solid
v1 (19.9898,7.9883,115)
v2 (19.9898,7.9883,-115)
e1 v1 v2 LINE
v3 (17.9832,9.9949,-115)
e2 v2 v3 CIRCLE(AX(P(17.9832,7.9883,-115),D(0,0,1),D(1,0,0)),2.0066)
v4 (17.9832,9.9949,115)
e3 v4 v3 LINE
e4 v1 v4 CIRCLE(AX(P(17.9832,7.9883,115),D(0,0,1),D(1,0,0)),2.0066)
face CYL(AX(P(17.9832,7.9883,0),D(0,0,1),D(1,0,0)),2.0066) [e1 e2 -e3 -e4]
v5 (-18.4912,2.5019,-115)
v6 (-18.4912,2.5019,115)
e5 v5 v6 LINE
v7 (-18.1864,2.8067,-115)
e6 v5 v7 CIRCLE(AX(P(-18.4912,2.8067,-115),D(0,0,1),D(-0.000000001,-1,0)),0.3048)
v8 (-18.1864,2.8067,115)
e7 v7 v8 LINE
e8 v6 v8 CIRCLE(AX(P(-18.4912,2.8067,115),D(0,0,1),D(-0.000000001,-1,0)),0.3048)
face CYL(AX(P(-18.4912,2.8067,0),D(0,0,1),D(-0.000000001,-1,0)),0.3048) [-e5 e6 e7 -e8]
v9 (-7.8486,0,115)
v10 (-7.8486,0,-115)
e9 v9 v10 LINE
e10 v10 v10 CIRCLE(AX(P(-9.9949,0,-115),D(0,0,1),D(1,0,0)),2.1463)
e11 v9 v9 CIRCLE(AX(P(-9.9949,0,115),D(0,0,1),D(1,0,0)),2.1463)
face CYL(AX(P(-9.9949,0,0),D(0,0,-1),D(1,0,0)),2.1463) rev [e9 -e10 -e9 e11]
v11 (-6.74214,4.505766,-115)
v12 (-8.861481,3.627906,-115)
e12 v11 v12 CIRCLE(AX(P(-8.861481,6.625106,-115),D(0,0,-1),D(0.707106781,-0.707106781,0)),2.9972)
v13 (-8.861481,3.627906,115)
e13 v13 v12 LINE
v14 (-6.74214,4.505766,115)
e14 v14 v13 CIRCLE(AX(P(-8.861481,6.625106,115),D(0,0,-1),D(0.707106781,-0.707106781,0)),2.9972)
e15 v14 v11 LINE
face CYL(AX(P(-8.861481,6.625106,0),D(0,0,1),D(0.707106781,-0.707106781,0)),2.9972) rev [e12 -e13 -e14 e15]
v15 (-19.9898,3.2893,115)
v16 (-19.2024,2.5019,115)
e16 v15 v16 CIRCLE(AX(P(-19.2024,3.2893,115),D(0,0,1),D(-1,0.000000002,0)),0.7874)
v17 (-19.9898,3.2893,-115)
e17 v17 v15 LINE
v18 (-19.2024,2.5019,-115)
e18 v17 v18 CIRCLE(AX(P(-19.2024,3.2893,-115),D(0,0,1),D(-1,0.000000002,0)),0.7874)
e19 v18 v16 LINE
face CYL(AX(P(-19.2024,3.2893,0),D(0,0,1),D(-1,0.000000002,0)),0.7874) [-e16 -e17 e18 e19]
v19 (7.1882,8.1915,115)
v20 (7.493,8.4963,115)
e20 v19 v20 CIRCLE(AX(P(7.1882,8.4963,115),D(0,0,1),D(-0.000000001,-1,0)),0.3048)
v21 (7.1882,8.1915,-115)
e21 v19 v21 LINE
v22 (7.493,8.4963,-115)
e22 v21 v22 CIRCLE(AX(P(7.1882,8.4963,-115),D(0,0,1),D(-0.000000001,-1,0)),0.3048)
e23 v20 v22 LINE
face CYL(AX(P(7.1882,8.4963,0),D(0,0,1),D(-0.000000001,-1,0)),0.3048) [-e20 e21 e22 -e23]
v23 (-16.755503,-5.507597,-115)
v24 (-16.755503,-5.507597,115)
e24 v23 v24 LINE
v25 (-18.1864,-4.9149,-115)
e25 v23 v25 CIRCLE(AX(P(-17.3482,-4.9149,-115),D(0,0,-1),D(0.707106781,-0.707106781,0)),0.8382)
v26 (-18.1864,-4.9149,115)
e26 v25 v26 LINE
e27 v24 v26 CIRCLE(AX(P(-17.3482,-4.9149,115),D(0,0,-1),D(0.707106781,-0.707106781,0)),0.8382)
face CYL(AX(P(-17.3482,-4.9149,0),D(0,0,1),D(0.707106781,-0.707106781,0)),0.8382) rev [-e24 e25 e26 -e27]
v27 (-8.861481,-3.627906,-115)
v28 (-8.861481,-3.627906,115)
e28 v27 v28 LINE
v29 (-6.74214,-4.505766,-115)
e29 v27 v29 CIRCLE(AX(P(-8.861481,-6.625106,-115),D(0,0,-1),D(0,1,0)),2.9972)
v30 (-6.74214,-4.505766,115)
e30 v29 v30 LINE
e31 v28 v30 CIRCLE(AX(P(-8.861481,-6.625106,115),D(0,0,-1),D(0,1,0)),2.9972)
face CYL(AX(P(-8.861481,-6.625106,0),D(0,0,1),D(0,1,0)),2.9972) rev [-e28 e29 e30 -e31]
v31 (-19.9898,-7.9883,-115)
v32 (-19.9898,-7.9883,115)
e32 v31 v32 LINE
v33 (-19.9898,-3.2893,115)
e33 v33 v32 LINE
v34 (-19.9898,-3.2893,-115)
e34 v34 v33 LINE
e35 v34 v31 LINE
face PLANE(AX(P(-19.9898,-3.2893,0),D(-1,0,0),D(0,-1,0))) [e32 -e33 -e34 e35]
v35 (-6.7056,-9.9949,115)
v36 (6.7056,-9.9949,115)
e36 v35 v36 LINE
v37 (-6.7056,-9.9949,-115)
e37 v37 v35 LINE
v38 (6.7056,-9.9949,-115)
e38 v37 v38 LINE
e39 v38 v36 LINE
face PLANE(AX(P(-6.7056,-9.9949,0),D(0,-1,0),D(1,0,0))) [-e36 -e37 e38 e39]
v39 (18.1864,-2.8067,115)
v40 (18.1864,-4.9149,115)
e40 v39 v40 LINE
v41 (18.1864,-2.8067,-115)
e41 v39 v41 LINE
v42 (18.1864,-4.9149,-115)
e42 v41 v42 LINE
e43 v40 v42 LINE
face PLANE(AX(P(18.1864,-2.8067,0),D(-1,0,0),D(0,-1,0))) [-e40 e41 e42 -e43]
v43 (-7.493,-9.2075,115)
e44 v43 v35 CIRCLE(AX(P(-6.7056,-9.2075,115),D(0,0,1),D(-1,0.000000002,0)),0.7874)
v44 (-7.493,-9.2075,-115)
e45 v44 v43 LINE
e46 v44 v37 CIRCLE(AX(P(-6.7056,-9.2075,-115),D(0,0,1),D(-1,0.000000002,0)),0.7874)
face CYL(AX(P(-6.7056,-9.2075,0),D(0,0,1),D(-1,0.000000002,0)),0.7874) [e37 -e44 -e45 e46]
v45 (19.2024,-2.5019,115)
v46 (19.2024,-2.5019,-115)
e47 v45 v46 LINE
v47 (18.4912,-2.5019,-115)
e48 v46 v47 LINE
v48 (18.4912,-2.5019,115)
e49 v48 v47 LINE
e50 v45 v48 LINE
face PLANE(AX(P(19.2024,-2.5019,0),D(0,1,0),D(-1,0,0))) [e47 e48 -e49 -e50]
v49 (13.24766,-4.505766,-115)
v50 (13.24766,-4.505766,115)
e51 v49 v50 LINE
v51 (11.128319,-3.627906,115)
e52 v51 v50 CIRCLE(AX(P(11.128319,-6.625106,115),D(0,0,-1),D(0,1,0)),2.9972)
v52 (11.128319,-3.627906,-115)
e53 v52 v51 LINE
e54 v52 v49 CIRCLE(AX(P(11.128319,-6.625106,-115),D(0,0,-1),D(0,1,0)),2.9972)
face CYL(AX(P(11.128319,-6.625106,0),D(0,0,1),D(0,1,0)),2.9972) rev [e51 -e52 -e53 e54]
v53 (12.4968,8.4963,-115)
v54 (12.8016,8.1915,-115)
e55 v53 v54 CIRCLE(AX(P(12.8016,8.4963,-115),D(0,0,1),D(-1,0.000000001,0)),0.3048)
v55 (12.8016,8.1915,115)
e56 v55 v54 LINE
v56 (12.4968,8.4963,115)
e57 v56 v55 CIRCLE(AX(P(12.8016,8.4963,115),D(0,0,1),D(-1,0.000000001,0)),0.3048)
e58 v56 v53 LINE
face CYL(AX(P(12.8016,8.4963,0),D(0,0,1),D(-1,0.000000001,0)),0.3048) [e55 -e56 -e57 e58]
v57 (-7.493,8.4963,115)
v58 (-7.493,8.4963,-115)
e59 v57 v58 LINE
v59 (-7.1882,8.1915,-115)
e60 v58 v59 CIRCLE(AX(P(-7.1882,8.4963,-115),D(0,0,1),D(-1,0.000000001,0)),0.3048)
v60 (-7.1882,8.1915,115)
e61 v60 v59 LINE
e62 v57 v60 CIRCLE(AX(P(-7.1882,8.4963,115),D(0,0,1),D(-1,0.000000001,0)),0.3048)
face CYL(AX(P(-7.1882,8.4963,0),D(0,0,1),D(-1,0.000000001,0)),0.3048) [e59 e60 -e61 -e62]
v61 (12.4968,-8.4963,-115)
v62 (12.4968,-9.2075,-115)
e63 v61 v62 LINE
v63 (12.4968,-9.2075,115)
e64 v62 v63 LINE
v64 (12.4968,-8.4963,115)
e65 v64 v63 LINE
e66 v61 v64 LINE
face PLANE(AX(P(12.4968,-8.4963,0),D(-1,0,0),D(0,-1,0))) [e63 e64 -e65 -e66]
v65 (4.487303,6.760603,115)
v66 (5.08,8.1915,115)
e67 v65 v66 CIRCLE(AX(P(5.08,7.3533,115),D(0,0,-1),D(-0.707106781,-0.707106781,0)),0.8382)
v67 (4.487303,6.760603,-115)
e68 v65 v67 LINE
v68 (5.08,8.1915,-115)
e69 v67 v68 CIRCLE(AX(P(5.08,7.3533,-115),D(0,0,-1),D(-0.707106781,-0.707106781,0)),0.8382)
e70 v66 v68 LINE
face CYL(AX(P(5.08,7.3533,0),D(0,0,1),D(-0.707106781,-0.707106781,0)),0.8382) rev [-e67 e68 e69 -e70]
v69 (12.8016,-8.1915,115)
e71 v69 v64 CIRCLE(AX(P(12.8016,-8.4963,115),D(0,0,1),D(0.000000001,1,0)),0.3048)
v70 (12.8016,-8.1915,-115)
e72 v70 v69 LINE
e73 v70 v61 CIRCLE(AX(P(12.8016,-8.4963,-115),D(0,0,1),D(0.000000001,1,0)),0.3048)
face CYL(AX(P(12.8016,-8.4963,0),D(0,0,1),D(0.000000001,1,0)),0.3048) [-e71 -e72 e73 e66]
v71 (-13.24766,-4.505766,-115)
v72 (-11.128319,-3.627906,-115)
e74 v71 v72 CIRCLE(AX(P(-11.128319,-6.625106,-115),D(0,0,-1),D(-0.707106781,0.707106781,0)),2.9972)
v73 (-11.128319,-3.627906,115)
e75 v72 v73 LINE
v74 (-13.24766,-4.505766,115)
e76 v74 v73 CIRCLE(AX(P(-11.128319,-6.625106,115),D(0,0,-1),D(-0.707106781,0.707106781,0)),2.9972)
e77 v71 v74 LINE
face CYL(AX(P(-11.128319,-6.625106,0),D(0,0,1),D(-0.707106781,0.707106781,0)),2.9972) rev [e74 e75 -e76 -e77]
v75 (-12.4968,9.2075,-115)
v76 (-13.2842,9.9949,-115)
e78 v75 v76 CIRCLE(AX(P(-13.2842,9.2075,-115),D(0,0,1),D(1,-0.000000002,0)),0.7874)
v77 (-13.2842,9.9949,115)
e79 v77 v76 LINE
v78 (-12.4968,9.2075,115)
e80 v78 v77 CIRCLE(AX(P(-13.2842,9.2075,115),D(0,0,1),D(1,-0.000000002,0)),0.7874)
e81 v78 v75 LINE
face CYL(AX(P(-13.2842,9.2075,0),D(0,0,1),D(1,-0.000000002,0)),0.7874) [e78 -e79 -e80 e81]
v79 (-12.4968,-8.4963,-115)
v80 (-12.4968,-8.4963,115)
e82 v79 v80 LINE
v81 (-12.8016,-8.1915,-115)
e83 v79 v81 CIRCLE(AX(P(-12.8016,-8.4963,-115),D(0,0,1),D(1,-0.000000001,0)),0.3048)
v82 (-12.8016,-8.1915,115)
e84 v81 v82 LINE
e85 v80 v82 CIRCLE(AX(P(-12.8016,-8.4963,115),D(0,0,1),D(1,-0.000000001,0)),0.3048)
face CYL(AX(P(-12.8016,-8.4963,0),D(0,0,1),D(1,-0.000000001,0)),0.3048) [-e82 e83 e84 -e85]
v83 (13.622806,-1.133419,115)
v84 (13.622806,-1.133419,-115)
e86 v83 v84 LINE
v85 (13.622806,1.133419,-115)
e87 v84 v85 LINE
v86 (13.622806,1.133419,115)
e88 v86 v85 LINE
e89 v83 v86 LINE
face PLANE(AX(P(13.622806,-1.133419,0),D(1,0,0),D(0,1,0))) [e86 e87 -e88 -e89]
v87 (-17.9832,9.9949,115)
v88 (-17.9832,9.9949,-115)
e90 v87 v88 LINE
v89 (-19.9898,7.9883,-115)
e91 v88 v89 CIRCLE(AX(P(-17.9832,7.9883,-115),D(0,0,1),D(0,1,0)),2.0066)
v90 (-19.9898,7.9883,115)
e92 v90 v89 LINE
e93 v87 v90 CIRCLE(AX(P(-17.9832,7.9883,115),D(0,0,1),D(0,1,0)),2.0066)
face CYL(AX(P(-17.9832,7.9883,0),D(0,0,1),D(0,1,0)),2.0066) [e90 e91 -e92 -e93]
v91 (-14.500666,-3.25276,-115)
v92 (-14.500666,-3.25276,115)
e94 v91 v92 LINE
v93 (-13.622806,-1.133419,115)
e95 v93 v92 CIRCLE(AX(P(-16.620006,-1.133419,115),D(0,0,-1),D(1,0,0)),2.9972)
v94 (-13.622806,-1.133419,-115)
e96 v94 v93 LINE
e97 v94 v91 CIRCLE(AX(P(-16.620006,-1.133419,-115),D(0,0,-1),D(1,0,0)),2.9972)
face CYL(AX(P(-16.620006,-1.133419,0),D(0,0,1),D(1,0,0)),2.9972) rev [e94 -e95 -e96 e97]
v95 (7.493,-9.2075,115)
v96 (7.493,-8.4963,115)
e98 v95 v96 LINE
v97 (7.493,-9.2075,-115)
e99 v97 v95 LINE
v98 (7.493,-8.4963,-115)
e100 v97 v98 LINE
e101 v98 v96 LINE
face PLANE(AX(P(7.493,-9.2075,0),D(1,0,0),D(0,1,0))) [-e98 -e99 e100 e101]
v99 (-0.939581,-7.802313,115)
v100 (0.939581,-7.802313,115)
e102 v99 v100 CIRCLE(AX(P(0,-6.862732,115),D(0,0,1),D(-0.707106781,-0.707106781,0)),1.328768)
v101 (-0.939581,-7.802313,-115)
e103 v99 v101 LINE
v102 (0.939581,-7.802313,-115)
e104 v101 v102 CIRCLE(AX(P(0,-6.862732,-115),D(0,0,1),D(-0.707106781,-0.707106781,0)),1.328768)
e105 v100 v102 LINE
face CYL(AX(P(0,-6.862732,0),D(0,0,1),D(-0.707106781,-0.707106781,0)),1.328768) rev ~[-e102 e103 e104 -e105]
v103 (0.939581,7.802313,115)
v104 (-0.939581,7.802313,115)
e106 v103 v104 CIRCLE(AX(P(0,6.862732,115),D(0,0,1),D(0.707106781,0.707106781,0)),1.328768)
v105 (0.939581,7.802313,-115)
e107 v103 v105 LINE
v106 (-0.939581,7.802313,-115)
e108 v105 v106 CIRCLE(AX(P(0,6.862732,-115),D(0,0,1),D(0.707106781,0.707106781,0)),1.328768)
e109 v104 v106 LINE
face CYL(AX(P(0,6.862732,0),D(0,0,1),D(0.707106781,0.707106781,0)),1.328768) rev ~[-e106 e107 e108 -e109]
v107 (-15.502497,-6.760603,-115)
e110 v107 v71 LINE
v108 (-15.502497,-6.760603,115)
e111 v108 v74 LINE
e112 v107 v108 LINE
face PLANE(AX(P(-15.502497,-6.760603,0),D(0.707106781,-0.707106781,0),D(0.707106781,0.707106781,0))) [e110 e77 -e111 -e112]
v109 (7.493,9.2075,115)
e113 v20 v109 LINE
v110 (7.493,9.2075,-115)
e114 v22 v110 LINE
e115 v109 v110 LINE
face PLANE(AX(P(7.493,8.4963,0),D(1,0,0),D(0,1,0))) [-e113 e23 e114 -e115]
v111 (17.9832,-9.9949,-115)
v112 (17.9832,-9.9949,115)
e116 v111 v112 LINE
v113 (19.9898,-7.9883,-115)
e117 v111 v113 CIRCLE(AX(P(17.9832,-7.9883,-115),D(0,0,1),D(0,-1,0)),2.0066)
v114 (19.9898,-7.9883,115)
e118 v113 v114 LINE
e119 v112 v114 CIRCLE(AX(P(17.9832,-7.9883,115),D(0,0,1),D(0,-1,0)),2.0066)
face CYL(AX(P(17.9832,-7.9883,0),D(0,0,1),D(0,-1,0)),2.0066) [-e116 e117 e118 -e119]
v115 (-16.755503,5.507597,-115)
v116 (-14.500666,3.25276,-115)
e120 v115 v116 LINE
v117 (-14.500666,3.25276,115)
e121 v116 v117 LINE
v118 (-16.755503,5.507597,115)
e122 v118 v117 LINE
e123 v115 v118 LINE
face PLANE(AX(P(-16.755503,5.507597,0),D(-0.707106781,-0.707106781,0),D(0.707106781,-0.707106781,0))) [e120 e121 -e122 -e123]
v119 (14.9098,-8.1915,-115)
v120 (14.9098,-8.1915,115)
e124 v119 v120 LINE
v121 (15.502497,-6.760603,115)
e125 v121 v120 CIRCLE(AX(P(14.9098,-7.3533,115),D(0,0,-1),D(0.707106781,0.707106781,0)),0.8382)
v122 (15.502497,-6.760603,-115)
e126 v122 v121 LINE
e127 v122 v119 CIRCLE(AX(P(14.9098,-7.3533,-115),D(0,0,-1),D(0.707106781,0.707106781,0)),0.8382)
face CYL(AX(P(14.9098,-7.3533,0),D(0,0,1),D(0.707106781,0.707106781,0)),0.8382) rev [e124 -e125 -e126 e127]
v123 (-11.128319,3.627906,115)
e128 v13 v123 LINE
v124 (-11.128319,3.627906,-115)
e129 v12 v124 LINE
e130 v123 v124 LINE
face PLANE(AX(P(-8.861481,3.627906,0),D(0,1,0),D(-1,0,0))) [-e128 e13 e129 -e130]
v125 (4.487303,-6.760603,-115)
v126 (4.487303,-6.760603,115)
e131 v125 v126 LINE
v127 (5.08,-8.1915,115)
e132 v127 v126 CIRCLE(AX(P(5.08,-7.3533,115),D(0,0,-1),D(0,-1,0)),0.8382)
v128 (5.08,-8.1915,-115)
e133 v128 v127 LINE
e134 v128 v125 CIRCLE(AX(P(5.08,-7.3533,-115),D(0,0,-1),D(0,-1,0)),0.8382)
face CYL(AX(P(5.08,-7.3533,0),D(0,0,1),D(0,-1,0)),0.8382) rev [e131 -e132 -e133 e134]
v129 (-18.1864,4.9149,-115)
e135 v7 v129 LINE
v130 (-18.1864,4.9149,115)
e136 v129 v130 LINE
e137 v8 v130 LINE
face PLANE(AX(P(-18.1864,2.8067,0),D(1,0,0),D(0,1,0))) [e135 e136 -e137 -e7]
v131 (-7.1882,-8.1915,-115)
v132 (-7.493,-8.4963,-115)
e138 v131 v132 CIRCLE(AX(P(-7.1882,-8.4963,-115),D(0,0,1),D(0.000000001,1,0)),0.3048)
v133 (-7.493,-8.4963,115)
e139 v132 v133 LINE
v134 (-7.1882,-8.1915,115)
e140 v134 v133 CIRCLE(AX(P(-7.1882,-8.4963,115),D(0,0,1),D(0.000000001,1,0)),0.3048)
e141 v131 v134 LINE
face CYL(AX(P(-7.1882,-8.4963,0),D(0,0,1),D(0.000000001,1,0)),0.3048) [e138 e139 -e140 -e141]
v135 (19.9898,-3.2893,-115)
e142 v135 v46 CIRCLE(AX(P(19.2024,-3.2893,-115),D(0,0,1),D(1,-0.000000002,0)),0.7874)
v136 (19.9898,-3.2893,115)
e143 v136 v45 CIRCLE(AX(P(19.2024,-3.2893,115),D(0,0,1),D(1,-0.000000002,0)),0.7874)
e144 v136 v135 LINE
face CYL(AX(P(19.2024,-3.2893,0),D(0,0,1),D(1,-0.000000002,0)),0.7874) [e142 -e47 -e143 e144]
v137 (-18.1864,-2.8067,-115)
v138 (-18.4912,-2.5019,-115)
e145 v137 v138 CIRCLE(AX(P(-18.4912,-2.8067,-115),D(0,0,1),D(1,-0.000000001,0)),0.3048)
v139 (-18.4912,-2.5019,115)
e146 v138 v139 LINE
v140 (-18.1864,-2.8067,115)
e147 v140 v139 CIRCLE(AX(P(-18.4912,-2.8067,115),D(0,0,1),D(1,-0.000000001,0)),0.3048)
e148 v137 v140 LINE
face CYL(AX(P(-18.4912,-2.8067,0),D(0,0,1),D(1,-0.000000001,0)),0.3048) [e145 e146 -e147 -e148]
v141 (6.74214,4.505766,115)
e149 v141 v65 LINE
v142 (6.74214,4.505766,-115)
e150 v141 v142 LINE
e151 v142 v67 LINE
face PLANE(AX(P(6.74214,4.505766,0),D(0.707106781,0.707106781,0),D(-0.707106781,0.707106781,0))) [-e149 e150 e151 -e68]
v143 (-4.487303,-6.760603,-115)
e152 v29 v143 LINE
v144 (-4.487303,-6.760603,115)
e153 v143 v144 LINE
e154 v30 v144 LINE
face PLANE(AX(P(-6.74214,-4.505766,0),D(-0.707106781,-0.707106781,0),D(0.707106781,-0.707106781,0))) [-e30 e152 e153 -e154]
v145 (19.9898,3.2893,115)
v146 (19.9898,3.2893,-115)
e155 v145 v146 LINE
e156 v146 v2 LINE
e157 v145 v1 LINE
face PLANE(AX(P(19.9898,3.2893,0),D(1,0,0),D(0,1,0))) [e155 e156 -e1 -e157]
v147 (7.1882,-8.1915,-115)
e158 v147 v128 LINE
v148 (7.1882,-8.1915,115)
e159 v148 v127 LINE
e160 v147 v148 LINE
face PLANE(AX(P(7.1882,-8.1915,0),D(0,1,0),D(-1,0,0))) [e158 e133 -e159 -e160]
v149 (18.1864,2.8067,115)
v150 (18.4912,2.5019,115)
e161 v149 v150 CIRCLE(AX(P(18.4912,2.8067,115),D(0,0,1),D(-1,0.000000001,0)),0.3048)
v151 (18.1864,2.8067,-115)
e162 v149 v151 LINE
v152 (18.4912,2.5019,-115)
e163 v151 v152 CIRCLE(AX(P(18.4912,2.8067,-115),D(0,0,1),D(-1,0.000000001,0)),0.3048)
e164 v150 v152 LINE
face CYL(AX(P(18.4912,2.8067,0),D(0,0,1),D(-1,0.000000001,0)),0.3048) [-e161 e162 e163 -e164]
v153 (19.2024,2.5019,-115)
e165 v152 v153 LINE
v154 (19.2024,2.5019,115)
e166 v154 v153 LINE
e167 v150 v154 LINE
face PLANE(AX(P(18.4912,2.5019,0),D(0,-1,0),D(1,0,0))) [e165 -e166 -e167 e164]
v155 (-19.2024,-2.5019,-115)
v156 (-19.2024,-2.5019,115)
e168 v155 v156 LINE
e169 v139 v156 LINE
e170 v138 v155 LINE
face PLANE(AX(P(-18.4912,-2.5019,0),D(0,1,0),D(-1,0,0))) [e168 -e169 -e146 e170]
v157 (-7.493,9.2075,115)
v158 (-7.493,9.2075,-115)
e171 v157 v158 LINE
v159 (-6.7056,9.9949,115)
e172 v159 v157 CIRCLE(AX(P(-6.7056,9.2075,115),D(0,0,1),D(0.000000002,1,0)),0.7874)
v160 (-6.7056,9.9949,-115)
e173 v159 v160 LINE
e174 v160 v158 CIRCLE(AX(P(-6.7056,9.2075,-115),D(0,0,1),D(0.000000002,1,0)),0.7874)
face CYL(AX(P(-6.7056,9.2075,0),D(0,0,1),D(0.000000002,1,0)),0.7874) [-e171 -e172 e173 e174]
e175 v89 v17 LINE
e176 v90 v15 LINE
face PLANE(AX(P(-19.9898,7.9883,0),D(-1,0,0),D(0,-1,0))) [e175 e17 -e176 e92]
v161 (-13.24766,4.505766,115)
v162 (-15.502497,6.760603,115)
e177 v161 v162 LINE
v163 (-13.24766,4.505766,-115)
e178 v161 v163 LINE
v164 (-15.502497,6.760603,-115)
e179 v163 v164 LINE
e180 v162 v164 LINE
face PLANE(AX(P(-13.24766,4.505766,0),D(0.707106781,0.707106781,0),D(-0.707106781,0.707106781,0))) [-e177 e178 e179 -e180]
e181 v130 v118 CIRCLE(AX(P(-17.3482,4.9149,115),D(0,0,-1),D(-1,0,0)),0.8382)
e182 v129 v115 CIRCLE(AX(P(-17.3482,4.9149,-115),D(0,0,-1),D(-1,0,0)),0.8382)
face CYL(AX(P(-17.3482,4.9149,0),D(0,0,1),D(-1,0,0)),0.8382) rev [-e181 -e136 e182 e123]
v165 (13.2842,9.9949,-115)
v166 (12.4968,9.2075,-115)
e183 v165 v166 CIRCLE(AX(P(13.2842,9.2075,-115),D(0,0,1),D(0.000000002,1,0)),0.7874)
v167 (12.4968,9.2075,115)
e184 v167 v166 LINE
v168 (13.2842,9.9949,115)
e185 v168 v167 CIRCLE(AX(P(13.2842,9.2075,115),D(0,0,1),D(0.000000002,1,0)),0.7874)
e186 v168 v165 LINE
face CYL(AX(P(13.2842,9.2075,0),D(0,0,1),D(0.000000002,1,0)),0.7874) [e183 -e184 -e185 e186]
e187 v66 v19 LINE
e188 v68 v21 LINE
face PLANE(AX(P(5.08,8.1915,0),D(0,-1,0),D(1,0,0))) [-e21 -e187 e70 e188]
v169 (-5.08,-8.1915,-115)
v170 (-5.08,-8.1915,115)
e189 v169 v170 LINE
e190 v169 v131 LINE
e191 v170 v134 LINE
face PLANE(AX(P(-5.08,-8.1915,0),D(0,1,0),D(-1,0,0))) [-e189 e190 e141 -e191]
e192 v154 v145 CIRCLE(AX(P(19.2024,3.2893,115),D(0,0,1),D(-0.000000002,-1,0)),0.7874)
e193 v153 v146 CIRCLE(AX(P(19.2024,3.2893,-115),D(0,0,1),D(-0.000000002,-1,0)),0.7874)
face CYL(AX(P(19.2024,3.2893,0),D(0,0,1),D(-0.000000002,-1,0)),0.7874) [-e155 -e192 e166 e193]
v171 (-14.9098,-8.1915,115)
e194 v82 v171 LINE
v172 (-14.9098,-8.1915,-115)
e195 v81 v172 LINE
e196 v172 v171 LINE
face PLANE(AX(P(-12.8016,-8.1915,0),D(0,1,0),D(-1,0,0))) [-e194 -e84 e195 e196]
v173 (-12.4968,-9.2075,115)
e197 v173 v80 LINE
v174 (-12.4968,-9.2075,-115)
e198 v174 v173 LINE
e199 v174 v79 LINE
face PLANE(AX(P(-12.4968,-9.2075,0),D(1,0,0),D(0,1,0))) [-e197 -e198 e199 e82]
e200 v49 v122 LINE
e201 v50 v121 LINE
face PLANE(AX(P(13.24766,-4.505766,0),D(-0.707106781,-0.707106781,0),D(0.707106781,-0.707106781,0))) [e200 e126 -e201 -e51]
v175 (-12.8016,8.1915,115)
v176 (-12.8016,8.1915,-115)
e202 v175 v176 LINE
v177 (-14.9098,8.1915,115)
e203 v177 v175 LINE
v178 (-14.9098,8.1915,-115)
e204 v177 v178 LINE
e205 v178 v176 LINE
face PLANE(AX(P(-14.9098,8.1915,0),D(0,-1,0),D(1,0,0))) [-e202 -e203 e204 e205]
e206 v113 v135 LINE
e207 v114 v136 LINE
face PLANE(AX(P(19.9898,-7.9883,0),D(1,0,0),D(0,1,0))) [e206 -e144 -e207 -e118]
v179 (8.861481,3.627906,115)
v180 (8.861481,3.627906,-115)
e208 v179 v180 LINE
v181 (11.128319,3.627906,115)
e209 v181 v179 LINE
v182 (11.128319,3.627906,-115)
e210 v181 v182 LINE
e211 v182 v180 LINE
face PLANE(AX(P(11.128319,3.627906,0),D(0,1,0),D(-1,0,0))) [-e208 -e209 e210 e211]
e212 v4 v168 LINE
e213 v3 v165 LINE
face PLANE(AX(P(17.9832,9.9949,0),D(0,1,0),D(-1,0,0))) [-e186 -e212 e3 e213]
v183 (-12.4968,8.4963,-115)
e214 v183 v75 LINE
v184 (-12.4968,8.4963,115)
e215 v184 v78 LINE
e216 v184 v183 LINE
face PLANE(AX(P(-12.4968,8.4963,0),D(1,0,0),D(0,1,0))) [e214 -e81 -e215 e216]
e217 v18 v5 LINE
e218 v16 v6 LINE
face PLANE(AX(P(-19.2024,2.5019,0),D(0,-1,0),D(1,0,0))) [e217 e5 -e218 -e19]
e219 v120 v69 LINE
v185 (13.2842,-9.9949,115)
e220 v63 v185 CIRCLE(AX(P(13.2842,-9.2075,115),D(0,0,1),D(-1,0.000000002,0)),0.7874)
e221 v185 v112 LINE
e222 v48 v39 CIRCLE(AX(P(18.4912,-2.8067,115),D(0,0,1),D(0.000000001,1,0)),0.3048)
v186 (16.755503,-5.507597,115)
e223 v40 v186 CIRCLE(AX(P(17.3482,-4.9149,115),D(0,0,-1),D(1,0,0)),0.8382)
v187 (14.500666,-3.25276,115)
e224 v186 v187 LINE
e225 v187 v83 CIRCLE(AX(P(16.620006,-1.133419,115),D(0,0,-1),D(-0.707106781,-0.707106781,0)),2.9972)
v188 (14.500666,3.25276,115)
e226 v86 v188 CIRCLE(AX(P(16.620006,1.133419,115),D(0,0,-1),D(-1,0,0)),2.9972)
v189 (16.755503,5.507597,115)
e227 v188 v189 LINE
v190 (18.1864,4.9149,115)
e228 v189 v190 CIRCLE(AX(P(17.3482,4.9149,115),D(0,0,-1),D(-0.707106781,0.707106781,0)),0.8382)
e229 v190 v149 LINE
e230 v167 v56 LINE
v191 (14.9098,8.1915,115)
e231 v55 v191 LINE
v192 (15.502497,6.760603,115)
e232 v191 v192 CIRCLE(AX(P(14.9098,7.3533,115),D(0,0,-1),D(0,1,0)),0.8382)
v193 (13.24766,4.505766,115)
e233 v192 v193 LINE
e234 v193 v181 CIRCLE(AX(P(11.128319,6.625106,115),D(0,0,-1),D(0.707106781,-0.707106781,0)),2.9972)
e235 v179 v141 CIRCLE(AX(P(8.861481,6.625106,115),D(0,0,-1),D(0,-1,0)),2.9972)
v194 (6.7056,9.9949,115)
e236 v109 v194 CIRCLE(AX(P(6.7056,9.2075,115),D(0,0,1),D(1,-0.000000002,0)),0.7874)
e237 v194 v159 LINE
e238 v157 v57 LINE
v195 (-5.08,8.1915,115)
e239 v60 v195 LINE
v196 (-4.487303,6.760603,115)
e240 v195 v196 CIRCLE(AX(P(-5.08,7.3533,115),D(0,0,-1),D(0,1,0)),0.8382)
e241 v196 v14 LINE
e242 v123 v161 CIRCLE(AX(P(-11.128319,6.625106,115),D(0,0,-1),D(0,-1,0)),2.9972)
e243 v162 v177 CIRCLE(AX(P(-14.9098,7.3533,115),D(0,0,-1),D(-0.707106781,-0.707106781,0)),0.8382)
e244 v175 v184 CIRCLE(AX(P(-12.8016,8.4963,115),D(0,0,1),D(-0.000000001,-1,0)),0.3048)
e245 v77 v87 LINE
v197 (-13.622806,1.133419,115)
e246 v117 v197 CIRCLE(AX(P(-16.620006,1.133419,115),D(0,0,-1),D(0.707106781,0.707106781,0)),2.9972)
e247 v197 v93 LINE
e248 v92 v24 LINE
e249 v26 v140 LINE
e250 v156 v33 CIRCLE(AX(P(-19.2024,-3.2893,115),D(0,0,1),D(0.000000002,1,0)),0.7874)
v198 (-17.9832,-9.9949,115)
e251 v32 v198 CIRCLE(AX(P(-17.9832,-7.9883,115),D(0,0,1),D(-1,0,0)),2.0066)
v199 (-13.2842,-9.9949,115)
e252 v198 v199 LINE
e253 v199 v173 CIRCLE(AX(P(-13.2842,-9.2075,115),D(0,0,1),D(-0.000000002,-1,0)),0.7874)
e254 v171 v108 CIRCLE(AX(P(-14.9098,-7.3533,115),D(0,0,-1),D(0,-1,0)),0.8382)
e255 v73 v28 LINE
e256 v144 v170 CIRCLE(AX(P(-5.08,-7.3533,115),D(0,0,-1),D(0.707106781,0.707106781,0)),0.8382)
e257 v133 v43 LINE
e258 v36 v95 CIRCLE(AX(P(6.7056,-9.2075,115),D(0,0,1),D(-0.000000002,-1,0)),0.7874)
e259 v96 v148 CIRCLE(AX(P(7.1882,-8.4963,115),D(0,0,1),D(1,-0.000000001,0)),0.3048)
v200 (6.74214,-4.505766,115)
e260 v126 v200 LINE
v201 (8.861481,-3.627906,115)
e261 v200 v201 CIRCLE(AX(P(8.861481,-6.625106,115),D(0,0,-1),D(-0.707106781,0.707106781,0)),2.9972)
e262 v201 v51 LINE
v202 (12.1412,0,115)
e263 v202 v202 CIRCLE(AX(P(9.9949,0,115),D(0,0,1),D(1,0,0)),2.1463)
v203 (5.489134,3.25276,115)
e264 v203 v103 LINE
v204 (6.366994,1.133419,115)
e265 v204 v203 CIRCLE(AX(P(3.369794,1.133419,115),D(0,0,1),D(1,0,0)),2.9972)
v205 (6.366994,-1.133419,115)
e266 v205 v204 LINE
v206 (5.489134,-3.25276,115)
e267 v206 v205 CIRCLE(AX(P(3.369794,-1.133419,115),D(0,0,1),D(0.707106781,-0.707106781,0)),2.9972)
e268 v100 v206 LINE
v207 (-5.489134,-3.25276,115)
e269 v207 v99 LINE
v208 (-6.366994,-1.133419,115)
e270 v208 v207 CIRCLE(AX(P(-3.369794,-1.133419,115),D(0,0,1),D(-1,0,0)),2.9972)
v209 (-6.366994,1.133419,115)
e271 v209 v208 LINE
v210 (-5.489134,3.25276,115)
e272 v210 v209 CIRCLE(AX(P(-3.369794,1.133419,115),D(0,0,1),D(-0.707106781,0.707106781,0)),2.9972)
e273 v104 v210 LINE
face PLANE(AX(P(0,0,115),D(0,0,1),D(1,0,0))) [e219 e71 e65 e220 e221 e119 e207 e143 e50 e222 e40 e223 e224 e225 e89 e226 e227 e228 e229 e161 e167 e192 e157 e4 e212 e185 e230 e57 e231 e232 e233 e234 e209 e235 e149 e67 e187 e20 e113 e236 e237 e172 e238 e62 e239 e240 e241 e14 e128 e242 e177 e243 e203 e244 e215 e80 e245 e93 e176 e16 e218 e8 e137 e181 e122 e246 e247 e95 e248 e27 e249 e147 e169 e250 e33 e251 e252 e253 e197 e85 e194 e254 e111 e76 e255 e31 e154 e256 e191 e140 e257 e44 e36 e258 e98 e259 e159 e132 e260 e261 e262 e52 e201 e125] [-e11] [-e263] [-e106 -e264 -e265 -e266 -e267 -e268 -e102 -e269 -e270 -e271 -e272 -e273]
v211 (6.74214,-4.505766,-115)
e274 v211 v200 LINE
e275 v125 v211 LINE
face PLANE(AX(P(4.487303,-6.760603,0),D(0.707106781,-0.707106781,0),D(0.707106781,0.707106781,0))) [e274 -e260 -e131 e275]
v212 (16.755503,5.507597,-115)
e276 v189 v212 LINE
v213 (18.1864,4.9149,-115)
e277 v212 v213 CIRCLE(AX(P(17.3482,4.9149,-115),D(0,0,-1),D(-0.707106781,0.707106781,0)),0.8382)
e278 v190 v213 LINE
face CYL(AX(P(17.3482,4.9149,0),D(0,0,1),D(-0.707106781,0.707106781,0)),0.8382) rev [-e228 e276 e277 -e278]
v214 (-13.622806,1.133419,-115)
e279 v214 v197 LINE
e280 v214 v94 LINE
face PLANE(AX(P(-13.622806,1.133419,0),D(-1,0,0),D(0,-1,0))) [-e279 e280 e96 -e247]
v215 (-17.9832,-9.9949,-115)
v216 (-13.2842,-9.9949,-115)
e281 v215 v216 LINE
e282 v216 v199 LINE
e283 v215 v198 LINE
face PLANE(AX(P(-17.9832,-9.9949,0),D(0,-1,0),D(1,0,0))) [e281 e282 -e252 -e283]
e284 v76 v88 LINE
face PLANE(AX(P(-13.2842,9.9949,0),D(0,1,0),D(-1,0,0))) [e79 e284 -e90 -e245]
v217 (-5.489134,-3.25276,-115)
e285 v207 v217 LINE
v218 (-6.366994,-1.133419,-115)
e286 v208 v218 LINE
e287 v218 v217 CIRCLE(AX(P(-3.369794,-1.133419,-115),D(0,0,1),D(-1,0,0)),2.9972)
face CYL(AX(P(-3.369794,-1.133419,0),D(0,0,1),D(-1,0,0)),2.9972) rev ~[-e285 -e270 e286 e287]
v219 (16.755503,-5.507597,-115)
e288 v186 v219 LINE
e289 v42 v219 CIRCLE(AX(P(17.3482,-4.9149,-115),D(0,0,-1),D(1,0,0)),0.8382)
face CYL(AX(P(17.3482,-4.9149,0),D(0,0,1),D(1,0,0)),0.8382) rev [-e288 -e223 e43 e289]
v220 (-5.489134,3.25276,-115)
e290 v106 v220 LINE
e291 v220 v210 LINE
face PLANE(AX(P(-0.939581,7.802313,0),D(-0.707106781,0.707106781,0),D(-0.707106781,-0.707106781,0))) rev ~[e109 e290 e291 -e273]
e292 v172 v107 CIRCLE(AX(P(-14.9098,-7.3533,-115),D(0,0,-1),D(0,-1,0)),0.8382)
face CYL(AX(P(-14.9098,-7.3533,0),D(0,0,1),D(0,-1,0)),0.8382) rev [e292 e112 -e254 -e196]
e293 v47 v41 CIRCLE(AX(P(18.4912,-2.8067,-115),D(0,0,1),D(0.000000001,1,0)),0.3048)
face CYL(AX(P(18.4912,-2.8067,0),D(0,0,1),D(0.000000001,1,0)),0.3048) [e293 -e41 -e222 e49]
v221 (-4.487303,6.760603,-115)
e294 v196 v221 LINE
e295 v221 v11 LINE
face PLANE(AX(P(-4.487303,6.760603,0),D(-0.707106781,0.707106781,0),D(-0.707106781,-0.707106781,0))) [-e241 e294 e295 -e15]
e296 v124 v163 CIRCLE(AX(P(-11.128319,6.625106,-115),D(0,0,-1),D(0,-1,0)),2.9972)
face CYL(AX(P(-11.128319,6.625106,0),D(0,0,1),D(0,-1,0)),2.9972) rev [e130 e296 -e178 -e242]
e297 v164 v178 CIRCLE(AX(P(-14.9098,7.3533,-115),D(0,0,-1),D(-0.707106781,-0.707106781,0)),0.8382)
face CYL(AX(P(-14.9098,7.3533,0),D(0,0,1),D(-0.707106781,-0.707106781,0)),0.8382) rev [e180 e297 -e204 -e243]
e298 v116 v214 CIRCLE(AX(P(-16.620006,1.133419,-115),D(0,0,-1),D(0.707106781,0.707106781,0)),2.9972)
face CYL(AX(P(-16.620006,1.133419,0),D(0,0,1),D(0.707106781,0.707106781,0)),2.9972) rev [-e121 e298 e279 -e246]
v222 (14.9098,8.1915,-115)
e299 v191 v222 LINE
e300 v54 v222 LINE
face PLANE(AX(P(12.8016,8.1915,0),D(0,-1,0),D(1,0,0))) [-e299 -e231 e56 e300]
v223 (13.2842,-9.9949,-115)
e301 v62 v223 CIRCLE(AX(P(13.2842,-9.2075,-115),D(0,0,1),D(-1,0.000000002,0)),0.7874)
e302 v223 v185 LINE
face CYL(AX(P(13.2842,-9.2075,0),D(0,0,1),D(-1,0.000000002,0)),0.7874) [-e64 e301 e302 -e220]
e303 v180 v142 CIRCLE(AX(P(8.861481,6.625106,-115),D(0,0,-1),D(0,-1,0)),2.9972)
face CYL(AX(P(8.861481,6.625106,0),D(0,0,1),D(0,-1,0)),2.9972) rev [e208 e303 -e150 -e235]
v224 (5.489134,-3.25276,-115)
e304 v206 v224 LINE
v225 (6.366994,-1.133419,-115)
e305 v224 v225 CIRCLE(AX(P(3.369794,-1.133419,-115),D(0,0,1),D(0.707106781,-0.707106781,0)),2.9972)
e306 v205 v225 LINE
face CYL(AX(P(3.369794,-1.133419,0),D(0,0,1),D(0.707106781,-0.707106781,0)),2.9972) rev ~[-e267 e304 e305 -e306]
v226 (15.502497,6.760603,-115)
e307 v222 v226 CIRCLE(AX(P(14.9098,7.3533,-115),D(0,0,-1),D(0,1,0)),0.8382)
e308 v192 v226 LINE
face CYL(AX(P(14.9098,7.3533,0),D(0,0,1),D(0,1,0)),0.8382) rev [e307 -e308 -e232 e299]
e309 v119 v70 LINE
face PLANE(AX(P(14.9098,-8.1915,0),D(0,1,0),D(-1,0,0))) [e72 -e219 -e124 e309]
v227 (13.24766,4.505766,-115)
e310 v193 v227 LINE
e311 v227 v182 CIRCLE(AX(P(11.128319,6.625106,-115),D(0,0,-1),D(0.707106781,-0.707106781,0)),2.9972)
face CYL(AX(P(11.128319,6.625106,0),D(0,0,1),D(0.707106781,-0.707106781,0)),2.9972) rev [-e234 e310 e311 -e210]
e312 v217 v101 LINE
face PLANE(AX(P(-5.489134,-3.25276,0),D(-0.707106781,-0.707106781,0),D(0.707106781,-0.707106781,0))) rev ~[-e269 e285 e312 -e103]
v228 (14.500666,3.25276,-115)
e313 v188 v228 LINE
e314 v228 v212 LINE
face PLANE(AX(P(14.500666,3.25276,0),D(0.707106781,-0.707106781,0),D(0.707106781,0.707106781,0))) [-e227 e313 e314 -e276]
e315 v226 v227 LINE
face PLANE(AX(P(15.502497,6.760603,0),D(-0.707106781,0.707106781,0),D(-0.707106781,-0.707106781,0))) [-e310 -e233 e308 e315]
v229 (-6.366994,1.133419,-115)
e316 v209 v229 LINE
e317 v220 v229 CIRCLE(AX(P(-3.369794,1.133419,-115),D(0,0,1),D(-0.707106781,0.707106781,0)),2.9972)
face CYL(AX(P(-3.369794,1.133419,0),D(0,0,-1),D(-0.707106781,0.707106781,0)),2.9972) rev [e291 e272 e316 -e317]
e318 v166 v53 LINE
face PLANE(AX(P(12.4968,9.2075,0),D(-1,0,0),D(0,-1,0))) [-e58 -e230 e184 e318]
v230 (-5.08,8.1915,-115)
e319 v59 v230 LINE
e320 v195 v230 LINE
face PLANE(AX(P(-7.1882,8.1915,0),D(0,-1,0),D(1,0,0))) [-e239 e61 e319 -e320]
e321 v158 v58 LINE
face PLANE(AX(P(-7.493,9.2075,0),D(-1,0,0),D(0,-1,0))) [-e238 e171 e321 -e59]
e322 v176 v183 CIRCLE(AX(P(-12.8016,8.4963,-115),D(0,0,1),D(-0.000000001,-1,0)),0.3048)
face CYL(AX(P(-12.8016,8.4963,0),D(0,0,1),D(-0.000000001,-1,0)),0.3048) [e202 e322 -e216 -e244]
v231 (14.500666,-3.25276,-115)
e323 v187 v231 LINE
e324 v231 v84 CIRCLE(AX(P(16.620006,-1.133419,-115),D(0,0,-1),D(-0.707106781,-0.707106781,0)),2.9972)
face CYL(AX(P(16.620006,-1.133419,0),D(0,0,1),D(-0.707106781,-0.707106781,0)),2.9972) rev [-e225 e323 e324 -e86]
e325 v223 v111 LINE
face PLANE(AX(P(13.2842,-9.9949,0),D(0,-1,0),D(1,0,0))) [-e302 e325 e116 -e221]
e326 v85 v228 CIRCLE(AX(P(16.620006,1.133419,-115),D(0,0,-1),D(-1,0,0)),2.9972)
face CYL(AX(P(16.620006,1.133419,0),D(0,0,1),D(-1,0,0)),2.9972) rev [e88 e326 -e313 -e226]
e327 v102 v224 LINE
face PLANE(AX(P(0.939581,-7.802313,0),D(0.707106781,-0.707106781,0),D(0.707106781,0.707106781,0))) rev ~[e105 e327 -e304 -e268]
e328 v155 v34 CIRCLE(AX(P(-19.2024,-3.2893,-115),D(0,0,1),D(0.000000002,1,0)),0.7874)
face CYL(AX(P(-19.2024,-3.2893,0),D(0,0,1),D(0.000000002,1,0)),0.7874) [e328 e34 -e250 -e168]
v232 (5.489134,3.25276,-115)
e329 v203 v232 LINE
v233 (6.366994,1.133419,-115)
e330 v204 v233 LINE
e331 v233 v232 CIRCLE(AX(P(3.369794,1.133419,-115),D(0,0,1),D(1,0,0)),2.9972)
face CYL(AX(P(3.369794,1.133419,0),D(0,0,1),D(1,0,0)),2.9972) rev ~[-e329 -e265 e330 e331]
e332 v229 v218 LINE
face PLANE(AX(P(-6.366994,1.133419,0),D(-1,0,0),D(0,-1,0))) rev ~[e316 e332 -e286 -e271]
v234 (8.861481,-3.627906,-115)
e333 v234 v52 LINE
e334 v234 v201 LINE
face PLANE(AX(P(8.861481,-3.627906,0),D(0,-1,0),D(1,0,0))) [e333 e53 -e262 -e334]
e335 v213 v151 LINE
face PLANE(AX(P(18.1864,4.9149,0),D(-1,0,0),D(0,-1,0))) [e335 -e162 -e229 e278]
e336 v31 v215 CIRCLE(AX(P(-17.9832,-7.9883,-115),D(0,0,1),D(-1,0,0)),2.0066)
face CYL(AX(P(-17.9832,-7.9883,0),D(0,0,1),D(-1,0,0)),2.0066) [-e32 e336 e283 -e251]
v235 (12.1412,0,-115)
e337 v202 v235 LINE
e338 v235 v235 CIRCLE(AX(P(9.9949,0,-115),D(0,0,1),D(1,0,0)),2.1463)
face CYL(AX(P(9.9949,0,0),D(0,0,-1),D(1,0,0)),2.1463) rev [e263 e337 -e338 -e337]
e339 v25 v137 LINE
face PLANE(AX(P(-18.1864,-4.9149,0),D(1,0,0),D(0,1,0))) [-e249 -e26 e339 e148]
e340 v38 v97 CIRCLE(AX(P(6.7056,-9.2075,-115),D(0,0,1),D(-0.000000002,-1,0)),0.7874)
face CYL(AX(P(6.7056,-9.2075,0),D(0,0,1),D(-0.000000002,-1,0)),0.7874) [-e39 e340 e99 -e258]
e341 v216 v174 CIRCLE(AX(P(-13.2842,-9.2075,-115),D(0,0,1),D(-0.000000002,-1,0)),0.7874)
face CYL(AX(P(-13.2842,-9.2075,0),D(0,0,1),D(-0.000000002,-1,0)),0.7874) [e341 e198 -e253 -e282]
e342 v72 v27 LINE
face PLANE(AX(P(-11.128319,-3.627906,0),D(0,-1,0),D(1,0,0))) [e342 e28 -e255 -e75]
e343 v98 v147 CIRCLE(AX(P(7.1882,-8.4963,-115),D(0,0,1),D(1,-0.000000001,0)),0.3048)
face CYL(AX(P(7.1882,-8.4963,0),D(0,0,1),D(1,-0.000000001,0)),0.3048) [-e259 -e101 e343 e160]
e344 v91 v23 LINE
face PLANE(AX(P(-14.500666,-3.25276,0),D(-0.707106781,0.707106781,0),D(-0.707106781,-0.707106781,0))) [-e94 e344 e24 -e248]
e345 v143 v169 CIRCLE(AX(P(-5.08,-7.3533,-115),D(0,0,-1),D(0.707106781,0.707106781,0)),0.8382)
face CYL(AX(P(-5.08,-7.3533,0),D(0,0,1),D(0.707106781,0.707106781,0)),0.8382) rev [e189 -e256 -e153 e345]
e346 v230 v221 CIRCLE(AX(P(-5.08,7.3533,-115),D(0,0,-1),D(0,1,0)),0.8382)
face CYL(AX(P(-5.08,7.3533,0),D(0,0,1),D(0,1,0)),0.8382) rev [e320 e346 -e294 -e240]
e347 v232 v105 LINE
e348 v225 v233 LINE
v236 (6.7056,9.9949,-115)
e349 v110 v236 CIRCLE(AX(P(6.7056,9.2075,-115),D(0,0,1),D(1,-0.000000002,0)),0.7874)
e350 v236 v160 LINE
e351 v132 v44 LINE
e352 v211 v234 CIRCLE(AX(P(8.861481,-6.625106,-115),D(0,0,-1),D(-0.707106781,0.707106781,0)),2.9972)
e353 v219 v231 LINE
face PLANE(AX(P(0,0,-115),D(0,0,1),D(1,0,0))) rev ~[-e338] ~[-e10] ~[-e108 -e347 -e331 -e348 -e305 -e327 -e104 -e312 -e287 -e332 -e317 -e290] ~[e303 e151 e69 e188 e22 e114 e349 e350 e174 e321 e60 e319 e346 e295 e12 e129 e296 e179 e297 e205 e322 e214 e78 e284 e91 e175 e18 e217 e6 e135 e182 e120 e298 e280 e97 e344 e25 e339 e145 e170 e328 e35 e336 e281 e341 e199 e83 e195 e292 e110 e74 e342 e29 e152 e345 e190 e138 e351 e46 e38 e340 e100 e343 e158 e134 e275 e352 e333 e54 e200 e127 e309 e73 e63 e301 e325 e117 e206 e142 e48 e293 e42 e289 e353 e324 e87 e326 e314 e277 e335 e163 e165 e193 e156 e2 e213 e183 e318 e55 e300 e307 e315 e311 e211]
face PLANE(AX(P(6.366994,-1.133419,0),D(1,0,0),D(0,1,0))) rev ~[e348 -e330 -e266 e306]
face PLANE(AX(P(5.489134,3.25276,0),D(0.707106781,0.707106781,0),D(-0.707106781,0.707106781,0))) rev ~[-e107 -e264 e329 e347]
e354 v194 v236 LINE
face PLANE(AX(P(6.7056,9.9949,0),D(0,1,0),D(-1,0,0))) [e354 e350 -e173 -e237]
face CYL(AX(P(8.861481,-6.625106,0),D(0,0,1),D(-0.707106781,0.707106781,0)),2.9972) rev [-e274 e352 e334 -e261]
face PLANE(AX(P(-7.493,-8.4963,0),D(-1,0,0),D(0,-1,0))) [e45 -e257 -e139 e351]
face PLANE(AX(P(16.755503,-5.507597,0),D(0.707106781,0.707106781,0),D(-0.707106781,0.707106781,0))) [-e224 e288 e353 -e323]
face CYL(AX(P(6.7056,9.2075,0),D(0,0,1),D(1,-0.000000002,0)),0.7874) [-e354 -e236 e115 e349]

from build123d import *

# Parameters (mm, degrees)
SKETCH1_R           = 2.1463
BOSS_EXTRUDE1_DEPTH = 115


with BuildPart() as part:
    # Sketch1 → Boss-Extrude1 (new body, symmetric)
    with BuildSketch(Plane.XY):
        with BuildLine():
            Line((-19.9898, 7.9883), (-19.9898, 3.2893))
            ThreePointArc((-19.9898, 3.2893), (-19.75917588, 2.73252412), (-19.2024, 2.5019))
            Line((-19.2024, 2.5019), (-18.4912, 2.5019))
            ThreePointArc((-18.4912, 2.5019), (-18.275673853, 2.591173853), (-18.1864, 2.8067))
            Line((-18.1864, 2.8067), (-18.1864, 4.9149))
            ThreePointArc((-18.1864, 4.9149), (-17.668965253, 5.689295824), (-16.755503096, 5.507596904))
            Line((-16.755503096, 5.507596904), (-14.500665747, 3.252759555))
            ThreePointArc((-14.500665747, 3.252759555), (-13.850954457, 2.280397894), (-13.622806192, 1.133419111))
            Line((-13.622806192, 1.133419111), (-13.622806192, -1.133419111))
            ThreePointArc((-13.622806192, -1.133419111), (-13.850954457, -2.280397894), (-14.500665747, -3.252759555))
            Line((-14.500665747, -3.252759555), (-16.755503096, -5.507596904))
            ThreePointArc((-16.755503096, -5.507596904), (-17.668965253, -5.689295824), (-18.1864, -4.9149))
            Line((-18.1864, -4.9149), (-18.1864, -2.8067))
            ThreePointArc((-18.1864, -2.8067), (-18.275673853, -2.591173853), (-18.4912, -2.5019))
            Line((-18.4912, -2.5019), (-19.2024, -2.5019))
            ThreePointArc((-19.2024, -2.5019), (-19.75917588, -2.73252412), (-19.9898, -3.2893))
            Line((-19.9898, -3.2893), (-19.9898, -7.9883))
            ThreePointArc((-19.9898, -7.9883), (-19.402080467, -9.407180467), (-17.9832, -9.9949))
            Line((-17.9832, -9.9949), (-13.2842, -9.9949))
            ThreePointArc((-13.2842, -9.9949), (-12.72742412, -9.76427588), (-12.4968, -9.2075))
            Line((-12.4968, -9.2075), (-12.4968, -8.4963))
            ThreePointArc((-12.4968, -8.4963), (-12.586073853, -8.280773853), (-12.8016, -8.1915))
            Line((-12.8016, -8.1915), (-14.9098, -8.1915))
            ThreePointArc((-14.9098, -8.1915), (-15.684195824, -7.674065253), (-15.502496904, -6.760603096))
            Line((-15.502496904, -6.760603096), (-13.247659555, -4.505765747))
            ThreePointArc((-13.247659555, -4.505765747), (-12.275297894, -3.856054457), (-11.128319111, -3.627906192))
            Line((-11.128319111, -3.627906192), (-8.861480889, -3.627906192))
            ThreePointArc((-8.861480889, -3.627906192), (-7.714502106, -3.856054457), (-6.742140445, -4.505765747))
            Line((-6.742140445, -4.505765747), (-4.487303096, -6.760603096))
            ThreePointArc((-4.487303096, -6.760603096), (-4.305604176, -7.674065253), (-5.08, -8.1915))
            Line((-5.08, -8.1915), (-7.1882, -8.1915))
            ThreePointArc((-7.1882, -8.1915), (-7.403726147, -8.280773853), (-7.493, -8.4963))
            Line((-7.493, -8.4963), (-7.493, -9.2075))
            ThreePointArc((-7.493, -9.2075), (-7.26237588, -9.76427588), (-6.7056, -9.9949))
            Line((-6.7056, -9.9949), (0, -9.9949))
            Line((0, -9.9949), (6.7056, -9.9949))
            ThreePointArc((6.7056, -9.9949), (7.26237588, -9.76427588), (7.493, -9.2075))
            Line((7.493, -9.2075), (7.493, -8.4963))
            ThreePointArc((7.493, -8.4963), (7.403726147, -8.280773853), (7.1882, -8.1915))
            Line((7.1882, -8.1915), (5.08, -8.1915))
            ThreePointArc((5.08, -8.1915), (4.305604176, -7.674065253), (4.487303096, -6.760603096))
            Line((4.487303096, -6.760603096), (6.742140445, -4.505765747))
            ThreePointArc((6.742140445, -4.505765747), (7.714502106, -3.856054457), (8.861480889, -3.627906192))
            Line((8.861480889, -3.627906192), (11.128319111, -3.627906192))
            ThreePointArc((11.128319111, -3.627906192), (12.275297894, -3.856054457), (13.247659555, -4.505765747))
            Line((13.247659555, -4.505765747), (15.502496904, -6.760603096))
            ThreePointArc((15.502496904, -6.760603096), (15.684195824, -7.674065253), (14.9098, -8.1915))
            Line((14.9098, -8.1915), (12.8016, -8.1915))
            ThreePointArc((12.8016, -8.1915), (12.586073853, -8.280773853), (12.4968, -8.4963))
            Line((12.4968, -8.4963), (12.4968, -9.2075))
            ThreePointArc((12.4968, -9.2075), (12.72742412, -9.76427588), (13.2842, -9.9949))
            Line((13.2842, -9.9949), (17.9832, -9.9949))
            ThreePointArc((17.9832, -9.9949), (19.402080467, -9.407180467), (19.9898, -7.9883))
            Line((19.9898, -7.9883), (19.9898, -3.2893))
            ThreePointArc((19.9898, -3.2893), (19.75917588, -2.73252412), (19.2024, -2.5019))
            Line((19.2024, -2.5019), (18.4912, -2.5019))
            ThreePointArc((18.4912, -2.5019), (18.275673853, -2.591173853), (18.1864, -2.8067))
            Line((18.1864, -2.8067), (18.1864, -4.9149))
            ThreePointArc((18.1864, -4.9149), (17.668965253, -5.689295824), (16.755503096, -5.507596904))
            Line((16.755503096, -5.507596904), (14.500665747, -3.252759555))
            ThreePointArc((14.500665747, -3.252759555), (13.850954457, -2.280397894), (13.622806192, -1.133419111))
            Line((13.622806192, -1.133419111), (13.622806192, 1.133419111))
            ThreePointArc((13.622806192, 1.133419111), (13.850954457, 2.280397894), (14.500665747, 3.252759555))
            Line((14.500665747, 3.252759555), (16.755503096, 5.507596904))
            ThreePointArc((16.755503096, 5.507596904), (17.668965253, 5.689295824), (18.1864, 4.9149))
            Line((18.1864, 4.9149), (18.1864, 2.8067))
            ThreePointArc((18.1864, 2.8067), (18.275673853, 2.591173853), (18.4912, 2.5019))
            Line((18.4912, 2.5019), (19.2024, 2.5019))
            ThreePointArc((19.2024, 2.5019), (19.75917588, 2.73252412), (19.9898, 3.2893))
            Line((19.9898, 3.2893), (19.9898, 7.9883))
            ThreePointArc((19.9898, 7.9883), (19.402080467, 9.407180467), (17.9832, 9.9949))
            Line((17.9832, 9.9949), (13.2842, 9.9949))
            ThreePointArc((13.2842, 9.9949), (12.72742412, 9.76427588), (12.4968, 9.2075))
            Line((12.4968, 9.2075), (12.4968, 8.4963))
            ThreePointArc((12.4968, 8.4963), (12.586073853, 8.280773853), (12.8016, 8.1915))
            Line((12.8016, 8.1915), (14.9098, 8.1915))
            ThreePointArc((14.9098, 8.1915), (15.684195824, 7.674065253), (15.502496904, 6.760603096))
            Line((15.502496904, 6.760603096), (13.247659555, 4.505765747))
            ThreePointArc((13.247659555, 4.505765747), (12.275297894, 3.856054457), (11.128319111, 3.627906192))
            Line((11.128319111, 3.627906192), (8.861480889, 3.627906192))
            ThreePointArc((8.861480889, 3.627906192), (7.714502106, 3.856054457), (6.742140445, 4.505765747))
            Line((6.742140445, 4.505765747), (4.487303096, 6.760603096))
            ThreePointArc((4.487303096, 6.760603096), (4.305604176, 7.674065253), (5.08, 8.1915))
            Line((5.08, 8.1915), (7.1882, 8.1915))
            ThreePointArc((7.1882, 8.1915), (7.403726147, 8.280773853), (7.493, 8.4963))
            Line((7.493, 8.4963), (7.493, 9.2075))
            ThreePointArc((7.493, 9.2075), (7.26237588, 9.76427588), (6.7056, 9.9949))
            Line((6.7056, 9.9949), (0, 9.9949))
            Line((0, 9.9949), (-6.7056, 9.9949))
            ThreePointArc((-6.7056, 9.9949), (-7.26237588, 9.76427588), (-7.493, 9.2075))
            Line((-7.493, 9.2075), (-7.493, 8.4963))
            ThreePointArc((-7.493, 8.4963), (-7.403726147, 8.280773853), (-7.1882, 8.1915))
            Line((-7.1882, 8.1915), (-5.08, 8.1915))
            ThreePointArc((-5.08, 8.1915), (-4.305604176, 7.674065253), (-4.487303096, 6.760603096))
            Line((-4.487303096, 6.760603096), (-6.742140445, 4.505765747))
            ThreePointArc((-6.742140445, 4.505765747), (-7.714502106, 3.856054457), (-8.861480889, 3.627906192))
            Line((-8.861480889, 3.627906192), (-11.128319111, 3.627906192))
            ThreePointArc((-11.128319111, 3.627906192), (-12.275297894, 3.856054457), (-13.247659555, 4.505765747))
            Line((-13.247659555, 4.505765747), (-15.502496904, 6.760603096))
            ThreePointArc((-15.502496904, 6.760603096), (-15.684195824, 7.674065253), (-14.9098, 8.1915))
            Line((-14.9098, 8.1915), (-12.8016, 8.1915))
            ThreePointArc((-12.8016, 8.1915), (-12.586073853, 8.280773853), (-12.4968, 8.4963))
            Line((-12.4968, 8.4963), (-12.4968, 9.2075))
            ThreePointArc((-12.4968, 9.2075), (-12.72742412, 9.76427588), (-13.2842, 9.9949))
            Line((-13.2842, 9.9949), (-17.9832, 9.9949))
            ThreePointArc((-17.9832, 9.9949), (-19.402080467, 9.407180467), (-19.9898, 7.9883))
        make_face()
        with Locations((-9.9949, 0)):
            Circle(SKETCH1_R, mode=Mode.SUBTRACT)
        with Locations((9.9949, 0)):
            Circle(SKETCH1_R, mode=Mode.SUBTRACT)
        with BuildLine():
            Line((-6.366993808, 1.133419111), (-6.366993808, -1.133419111))
            ThreePointArc((-6.366993808, -1.133419111), (-6.138845543, -2.280397894), (-5.489134253, -3.252759555))
            Line((-5.489134253, -3.252759555), (-0.939581002, -7.802312806))
            ThreePointArc((-0.939581002, -7.802312806), (0, -8.1915), (0.939581002, -7.802312806))
            Line((0.939581002, -7.802312806), (5.489134253, -3.252759555))
            ThreePointArc((5.489134253, -3.252759555), (6.138845543, -2.280397894), (6.366993808, -1.133419111))
            Line((6.366993808, -1.133419111), (6.366993808, 1.133419111))
            ThreePointArc((6.366993808, 1.133419111), (6.138845543, 2.280397894), (5.489134253, 3.252759555))
            Line((5.489134253, 3.252759555), (0.939581002, 7.802312806))
            ThreePointArc((0.939581002, 7.802312806), (0, 8.1915), (-0.939581002, 7.802312806))
            Line((-0.939581002, 7.802312806), (-5.489134253, 3.252759555))
            ThreePointArc((-5.489134253, 3.252759555), (-6.138845543, 2.280397894), (-6.366993808, 1.133419111))
        make_face(mode=Mode.SUBTRACT)
    extrude(amount=BOSS_EXTRUDE1_DEPTH, both=True)


solid = part.part
